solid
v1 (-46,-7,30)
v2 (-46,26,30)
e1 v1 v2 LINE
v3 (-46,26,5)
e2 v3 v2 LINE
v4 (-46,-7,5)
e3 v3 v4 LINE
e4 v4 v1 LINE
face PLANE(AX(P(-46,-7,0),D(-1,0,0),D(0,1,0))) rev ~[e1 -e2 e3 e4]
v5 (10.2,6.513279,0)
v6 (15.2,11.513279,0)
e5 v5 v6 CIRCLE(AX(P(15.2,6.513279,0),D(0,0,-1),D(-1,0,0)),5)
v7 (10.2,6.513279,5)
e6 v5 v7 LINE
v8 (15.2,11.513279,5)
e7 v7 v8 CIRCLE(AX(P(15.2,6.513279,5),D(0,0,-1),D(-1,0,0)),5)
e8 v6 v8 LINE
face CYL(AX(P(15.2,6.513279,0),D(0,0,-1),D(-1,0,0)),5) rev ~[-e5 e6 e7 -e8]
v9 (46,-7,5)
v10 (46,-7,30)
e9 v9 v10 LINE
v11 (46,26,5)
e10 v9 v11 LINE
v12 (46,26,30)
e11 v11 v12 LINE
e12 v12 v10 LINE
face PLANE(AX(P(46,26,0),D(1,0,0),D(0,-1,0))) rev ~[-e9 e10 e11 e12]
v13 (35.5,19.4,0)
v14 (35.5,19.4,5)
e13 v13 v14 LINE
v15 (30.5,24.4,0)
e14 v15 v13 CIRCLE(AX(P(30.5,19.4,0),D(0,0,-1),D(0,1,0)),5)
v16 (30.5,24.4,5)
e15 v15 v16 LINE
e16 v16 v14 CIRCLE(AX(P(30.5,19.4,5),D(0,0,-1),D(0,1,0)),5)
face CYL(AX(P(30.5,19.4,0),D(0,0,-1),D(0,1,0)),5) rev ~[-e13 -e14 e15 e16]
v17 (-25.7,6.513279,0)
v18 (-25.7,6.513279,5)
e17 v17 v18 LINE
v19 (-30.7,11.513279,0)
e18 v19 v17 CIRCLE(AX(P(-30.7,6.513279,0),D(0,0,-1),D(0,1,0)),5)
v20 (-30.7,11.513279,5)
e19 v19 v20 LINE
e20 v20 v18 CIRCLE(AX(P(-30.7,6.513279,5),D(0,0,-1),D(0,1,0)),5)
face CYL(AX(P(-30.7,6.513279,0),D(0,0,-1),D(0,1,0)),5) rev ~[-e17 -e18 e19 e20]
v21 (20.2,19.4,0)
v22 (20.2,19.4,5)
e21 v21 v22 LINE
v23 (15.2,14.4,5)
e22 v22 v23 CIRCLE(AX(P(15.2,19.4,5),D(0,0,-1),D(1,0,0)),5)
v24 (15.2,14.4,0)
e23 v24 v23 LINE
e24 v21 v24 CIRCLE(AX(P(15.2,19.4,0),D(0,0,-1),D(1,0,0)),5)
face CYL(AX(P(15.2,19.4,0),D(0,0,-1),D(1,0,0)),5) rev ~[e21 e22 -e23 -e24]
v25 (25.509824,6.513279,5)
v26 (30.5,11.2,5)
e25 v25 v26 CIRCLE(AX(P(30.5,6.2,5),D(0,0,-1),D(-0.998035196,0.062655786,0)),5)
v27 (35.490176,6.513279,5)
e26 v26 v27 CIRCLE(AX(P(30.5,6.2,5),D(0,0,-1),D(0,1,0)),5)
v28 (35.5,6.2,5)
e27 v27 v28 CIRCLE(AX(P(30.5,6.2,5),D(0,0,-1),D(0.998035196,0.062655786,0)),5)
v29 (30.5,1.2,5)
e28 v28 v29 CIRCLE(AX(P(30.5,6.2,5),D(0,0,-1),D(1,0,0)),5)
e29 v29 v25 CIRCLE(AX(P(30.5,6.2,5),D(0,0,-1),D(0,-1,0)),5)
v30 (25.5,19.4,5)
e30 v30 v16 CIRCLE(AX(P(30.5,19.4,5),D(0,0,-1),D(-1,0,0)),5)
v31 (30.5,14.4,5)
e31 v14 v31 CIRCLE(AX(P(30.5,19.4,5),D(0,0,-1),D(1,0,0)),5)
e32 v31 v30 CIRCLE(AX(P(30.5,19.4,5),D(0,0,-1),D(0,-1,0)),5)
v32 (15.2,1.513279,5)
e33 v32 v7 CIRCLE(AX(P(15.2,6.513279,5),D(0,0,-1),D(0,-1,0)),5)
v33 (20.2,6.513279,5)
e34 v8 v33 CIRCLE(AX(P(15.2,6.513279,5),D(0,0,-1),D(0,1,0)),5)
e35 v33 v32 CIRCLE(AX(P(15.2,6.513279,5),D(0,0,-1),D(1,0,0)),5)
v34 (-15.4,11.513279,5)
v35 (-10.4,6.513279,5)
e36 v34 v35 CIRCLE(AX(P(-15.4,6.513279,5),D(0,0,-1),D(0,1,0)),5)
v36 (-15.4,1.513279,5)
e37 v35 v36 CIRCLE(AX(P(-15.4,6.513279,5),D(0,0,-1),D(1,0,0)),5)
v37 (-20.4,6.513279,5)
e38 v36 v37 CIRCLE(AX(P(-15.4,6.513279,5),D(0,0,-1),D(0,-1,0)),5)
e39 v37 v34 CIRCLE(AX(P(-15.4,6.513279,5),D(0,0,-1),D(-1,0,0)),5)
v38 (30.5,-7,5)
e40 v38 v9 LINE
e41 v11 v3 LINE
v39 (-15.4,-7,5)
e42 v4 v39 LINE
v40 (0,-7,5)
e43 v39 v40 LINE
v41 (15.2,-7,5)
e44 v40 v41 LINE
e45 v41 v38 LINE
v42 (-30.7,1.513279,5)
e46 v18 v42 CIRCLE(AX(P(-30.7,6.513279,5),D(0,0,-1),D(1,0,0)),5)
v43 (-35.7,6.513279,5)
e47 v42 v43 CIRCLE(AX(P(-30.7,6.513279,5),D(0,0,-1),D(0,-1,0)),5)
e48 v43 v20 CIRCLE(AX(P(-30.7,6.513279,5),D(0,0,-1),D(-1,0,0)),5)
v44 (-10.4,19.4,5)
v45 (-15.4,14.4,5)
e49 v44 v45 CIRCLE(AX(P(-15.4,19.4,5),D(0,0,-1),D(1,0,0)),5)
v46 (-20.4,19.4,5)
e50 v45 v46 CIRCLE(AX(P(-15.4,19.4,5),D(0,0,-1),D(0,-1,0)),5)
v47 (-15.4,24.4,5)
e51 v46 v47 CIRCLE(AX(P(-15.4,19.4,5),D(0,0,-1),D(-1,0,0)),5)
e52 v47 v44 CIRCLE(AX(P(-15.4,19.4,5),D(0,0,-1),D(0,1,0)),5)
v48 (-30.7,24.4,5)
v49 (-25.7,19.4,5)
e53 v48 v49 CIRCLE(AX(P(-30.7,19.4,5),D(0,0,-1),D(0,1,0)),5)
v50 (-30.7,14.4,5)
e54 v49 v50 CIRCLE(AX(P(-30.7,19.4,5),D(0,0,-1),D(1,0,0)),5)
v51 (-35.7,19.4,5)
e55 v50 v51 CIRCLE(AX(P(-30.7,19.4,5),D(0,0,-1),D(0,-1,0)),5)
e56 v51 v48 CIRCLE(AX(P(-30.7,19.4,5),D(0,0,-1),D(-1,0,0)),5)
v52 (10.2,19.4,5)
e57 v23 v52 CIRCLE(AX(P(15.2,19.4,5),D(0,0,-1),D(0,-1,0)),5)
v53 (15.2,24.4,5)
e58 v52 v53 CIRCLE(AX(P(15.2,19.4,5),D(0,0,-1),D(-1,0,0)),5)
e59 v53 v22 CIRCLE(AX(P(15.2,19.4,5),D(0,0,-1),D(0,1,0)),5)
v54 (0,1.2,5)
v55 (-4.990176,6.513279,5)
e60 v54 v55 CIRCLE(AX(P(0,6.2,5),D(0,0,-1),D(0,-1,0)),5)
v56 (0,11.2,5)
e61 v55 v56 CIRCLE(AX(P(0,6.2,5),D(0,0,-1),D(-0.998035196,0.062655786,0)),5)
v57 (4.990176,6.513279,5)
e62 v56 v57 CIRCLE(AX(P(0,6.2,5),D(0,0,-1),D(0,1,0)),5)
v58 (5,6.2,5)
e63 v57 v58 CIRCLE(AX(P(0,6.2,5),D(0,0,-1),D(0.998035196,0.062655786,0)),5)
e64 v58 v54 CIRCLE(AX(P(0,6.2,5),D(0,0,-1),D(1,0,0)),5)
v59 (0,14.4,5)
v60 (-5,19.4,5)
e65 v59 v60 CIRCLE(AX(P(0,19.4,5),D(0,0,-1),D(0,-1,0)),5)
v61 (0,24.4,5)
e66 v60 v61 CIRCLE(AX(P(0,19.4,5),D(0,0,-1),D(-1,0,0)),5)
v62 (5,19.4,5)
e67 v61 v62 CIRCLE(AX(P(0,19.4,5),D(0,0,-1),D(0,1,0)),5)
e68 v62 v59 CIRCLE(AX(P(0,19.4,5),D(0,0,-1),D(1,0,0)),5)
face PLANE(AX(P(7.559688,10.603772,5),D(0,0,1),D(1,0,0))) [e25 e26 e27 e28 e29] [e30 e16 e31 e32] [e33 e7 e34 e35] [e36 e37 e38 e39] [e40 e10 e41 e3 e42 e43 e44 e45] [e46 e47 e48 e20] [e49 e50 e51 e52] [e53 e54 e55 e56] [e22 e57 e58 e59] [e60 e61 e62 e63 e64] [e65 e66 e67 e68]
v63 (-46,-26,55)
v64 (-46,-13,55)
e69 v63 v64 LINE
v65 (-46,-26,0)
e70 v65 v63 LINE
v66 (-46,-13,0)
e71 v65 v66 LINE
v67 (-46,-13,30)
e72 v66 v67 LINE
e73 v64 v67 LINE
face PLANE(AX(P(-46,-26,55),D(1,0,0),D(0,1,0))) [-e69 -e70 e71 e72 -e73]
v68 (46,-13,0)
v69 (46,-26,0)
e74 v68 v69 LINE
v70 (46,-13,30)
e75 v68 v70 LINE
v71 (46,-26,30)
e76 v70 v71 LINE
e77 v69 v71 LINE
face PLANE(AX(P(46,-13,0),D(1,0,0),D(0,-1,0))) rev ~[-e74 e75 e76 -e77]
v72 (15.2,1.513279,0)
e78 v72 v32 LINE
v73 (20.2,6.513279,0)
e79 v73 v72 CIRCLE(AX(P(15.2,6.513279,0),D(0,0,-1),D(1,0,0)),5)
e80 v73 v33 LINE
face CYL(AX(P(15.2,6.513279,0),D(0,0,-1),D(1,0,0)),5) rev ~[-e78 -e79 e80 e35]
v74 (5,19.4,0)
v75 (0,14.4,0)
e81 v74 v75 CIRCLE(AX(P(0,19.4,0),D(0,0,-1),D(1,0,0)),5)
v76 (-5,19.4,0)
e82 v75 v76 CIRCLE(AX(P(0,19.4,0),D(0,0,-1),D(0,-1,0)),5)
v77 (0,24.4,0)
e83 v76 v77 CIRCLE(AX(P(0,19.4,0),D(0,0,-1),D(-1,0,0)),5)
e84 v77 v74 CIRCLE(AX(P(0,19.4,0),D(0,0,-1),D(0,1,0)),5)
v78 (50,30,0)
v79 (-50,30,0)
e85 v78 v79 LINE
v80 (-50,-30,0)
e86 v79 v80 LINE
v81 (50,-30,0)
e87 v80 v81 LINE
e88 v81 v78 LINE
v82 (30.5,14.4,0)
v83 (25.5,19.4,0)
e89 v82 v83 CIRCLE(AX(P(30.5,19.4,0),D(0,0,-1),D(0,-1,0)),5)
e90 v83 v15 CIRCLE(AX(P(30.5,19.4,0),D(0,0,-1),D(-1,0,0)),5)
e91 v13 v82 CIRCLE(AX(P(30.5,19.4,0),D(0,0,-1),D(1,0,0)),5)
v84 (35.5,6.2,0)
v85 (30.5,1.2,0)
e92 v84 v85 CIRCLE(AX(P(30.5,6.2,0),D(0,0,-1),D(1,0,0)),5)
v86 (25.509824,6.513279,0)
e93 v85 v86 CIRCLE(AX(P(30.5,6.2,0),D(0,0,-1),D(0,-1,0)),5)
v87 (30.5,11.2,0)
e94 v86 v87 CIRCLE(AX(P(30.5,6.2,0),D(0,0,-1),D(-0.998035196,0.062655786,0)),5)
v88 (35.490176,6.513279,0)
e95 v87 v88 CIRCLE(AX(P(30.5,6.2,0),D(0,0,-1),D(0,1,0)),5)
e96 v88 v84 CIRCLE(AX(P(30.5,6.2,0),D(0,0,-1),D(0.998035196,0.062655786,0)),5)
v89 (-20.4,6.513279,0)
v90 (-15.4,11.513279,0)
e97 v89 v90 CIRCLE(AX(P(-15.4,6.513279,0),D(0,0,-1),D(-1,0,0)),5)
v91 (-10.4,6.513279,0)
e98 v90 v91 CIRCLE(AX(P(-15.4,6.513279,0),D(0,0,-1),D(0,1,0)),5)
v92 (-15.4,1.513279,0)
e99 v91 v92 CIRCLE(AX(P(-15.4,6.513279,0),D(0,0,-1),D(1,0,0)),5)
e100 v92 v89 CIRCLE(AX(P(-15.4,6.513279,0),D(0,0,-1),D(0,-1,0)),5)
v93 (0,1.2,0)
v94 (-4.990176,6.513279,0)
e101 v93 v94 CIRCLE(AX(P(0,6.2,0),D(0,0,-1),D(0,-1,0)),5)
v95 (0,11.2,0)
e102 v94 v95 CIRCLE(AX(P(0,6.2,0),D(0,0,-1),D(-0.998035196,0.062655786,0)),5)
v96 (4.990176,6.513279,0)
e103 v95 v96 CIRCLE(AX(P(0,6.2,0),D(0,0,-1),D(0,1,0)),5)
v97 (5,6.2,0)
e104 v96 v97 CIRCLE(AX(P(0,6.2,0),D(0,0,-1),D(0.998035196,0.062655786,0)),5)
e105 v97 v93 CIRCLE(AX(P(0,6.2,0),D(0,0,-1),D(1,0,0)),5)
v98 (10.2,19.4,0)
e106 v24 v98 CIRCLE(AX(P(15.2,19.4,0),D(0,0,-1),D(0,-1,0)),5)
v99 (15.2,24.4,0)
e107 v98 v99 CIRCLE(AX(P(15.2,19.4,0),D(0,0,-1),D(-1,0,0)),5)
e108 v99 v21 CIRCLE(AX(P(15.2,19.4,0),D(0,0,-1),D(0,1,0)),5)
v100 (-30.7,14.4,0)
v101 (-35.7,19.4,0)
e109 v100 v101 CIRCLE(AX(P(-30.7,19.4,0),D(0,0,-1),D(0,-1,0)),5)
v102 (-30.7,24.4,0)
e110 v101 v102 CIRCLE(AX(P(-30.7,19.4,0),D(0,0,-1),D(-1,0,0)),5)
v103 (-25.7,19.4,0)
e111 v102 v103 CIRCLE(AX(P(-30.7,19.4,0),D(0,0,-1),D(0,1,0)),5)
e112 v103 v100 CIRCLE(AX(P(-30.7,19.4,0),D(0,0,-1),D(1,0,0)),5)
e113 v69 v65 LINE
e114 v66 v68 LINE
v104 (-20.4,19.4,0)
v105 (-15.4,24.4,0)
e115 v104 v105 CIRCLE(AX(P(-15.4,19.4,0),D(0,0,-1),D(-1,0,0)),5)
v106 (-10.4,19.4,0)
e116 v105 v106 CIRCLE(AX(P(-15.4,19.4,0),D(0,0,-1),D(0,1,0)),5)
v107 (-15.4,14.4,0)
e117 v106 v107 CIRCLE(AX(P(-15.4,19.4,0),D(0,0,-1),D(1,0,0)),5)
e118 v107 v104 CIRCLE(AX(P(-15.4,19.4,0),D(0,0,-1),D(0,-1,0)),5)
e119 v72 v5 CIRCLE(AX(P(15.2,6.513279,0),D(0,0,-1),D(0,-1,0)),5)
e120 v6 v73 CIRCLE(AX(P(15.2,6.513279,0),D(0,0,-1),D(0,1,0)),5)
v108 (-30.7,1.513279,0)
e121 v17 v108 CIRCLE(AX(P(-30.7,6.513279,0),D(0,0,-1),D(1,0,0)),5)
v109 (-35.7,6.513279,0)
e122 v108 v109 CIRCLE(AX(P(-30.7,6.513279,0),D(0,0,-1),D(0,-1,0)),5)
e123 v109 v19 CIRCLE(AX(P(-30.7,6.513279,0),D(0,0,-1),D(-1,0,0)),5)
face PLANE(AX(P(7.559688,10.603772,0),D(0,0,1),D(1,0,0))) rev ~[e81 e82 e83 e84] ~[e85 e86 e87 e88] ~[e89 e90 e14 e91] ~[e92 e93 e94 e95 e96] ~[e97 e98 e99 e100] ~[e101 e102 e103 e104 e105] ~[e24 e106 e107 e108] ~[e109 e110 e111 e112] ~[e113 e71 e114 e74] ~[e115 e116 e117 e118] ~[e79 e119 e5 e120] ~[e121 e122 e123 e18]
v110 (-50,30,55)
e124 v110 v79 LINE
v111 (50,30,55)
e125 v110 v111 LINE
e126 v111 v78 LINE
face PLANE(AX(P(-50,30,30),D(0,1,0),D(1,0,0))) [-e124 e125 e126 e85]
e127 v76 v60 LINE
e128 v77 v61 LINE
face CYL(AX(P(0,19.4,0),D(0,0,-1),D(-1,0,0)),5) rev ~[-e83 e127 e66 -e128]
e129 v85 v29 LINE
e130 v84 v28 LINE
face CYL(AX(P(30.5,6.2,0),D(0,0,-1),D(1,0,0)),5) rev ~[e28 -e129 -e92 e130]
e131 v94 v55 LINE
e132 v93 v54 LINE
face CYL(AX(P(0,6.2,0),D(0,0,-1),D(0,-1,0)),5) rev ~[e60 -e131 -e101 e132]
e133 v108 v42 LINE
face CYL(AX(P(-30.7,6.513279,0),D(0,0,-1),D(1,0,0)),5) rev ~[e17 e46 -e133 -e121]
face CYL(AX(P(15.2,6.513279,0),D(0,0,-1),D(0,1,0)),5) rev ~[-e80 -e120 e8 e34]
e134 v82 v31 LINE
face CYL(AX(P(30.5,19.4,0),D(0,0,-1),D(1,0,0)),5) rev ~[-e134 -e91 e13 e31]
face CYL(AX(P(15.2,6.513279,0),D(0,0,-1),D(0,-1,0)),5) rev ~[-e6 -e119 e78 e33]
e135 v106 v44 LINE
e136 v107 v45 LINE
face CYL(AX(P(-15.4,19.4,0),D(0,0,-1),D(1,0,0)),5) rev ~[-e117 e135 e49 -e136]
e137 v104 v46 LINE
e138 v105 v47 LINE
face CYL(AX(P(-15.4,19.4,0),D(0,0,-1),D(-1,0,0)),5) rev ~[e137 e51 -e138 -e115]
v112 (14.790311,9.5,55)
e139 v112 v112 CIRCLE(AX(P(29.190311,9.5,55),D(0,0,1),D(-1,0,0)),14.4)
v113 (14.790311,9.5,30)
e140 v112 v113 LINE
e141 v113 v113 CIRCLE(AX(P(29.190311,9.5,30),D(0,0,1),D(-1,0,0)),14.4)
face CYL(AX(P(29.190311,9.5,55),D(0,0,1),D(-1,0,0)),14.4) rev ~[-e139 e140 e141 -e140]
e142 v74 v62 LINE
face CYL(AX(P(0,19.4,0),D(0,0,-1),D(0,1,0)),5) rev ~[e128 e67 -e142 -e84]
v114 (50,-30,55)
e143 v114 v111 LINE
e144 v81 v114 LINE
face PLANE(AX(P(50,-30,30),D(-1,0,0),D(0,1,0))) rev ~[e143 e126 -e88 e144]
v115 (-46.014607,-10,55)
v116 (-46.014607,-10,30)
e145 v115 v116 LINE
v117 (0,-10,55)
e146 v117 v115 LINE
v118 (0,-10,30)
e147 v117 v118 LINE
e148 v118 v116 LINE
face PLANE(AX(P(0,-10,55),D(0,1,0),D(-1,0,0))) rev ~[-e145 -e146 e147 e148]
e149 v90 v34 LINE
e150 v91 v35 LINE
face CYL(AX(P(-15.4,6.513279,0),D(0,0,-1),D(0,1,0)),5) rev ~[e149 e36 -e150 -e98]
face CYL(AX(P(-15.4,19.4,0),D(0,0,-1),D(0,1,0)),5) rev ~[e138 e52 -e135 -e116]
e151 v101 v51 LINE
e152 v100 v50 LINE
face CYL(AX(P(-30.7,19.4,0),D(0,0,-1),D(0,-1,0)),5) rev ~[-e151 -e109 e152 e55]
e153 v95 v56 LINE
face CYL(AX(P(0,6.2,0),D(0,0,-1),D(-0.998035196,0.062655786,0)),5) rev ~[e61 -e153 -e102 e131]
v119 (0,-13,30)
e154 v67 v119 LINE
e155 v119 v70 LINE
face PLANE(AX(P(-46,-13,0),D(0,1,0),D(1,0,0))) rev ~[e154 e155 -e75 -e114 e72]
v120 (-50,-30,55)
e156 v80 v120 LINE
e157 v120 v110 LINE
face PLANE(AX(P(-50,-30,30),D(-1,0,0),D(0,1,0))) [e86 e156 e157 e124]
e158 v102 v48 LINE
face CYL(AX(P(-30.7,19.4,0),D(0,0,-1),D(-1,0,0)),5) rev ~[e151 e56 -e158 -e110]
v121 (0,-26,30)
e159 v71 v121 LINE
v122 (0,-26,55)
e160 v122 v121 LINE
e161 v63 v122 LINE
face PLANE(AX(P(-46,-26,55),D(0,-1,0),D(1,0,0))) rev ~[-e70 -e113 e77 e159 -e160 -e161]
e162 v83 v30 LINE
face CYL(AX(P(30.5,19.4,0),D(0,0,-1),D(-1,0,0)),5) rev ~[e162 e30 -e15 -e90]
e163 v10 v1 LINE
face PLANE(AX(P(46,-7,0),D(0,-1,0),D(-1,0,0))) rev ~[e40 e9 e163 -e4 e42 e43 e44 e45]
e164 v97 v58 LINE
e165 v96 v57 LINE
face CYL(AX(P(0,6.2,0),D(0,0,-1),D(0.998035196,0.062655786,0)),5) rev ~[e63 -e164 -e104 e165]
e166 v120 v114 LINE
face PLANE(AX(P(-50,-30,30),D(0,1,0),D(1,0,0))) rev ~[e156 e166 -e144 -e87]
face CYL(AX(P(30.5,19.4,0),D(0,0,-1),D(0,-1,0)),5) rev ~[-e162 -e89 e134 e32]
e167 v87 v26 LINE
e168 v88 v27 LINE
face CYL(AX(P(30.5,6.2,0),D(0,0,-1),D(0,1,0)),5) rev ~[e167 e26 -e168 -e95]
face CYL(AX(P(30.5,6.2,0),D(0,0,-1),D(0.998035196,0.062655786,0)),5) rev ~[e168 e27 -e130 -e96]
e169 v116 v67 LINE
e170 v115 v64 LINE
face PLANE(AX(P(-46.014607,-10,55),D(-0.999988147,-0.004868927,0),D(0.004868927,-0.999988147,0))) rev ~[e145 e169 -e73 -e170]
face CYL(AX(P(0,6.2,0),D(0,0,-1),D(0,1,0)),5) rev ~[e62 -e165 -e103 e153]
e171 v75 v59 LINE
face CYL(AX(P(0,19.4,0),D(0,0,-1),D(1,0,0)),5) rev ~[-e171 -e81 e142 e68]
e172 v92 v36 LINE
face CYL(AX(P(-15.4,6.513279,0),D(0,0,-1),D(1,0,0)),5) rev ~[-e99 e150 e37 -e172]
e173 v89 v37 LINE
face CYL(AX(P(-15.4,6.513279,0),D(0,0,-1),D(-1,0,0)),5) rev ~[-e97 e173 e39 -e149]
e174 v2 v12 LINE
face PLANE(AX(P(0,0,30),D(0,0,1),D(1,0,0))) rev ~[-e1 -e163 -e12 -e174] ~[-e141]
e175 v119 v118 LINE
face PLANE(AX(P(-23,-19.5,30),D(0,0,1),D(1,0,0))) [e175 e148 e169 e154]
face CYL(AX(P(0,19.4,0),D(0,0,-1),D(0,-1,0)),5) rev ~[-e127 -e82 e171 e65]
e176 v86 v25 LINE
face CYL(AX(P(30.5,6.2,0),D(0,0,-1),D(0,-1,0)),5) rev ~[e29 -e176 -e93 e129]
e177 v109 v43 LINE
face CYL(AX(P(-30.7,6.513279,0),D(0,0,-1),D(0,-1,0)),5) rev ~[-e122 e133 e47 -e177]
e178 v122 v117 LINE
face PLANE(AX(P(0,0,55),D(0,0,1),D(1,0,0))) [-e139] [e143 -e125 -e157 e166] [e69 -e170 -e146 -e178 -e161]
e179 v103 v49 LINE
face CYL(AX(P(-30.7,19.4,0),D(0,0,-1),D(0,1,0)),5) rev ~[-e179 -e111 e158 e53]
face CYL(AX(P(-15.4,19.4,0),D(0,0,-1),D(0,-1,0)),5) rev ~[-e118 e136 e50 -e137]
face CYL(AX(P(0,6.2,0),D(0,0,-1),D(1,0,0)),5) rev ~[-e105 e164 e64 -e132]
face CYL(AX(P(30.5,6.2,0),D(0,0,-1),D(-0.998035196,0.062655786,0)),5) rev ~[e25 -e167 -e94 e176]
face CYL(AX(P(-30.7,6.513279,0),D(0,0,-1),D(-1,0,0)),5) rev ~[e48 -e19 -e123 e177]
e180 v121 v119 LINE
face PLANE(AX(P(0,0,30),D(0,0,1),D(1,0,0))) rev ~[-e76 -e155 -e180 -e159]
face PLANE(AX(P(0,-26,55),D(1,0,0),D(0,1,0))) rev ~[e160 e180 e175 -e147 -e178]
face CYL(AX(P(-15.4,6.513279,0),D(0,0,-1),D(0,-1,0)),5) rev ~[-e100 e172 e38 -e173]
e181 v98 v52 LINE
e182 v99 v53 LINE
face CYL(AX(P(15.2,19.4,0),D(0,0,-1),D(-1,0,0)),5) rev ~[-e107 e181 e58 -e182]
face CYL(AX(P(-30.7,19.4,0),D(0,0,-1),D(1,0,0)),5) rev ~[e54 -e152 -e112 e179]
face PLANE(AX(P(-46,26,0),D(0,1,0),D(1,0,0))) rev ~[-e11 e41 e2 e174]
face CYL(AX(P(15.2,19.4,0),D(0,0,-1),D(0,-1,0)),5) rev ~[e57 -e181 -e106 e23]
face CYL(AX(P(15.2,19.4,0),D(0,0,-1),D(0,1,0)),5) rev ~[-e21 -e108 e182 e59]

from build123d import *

# Parameters (mm, degrees)
F1_DEPTH = 30
F0_W     = 15.3
F0_H     = 3.7354312371
F0_W_2   = 15.5
F0_H_2   = 3.2645687629
F0_W_3   = 15.2
F2_DEPTH = 5
F3_W     = 100
F3_H     = 60
F3_W_2   = 92
F3_H_2   = 13
F3_H_3   = 33
F4_DEPTH = 25
F6_DEPTH = 25
F5_W     = 46
F5_H     = 13
F7_DEPTH = 25


with BuildPart() as f1:
    # F0 (on Top) → F1 (new body)
    with BuildSketch(Plane.XY):
        Polygon((0, -30), (50, -30), (50, -10), (18.90296489, -10), (0, -10), (0, -13), (46, -13), (46, -26), (0, -26), align=None)
        Polygon((-50, -30), (0, -30), (0, -26), (-46, -26), (-46, -13), (0, -13), (0, -10), (-50, -10), align=None)
        Polygon((18.90296489, -10), (50, -10), (50, 11.9792576879), (46, 11.9792576879), (46, 6.5132789314), (46, 0), (46, -3.7354312371), (46, -7), (30.5, -7), (18.90296489, -7), align=None)
        Polygon((46, 11.9792576879), (50, 11.9792576879), (50, 30), (-14.5761566237, 30), (-14.5761566237, 26), (0, 26), (15.2, 26), (30.5, 26), (46, 26), (46, 19.4), (46, 12.8), align=None)
        Polygon((0, -10), (18.90296489, -10), (18.90296489, -7), (15.2, -7), (0, -7), (-15.4, -7), (-30.7, -7), (-46, -7), (-46, -3.7354312371), (-46, 0), (-46, 6.5132789314), (-50, 6.5132789314), (-50, -10), align=None)
        Polygon((-50, 30), (-50, 6.5132789314), (-46, 6.5132789314), (-46, 12.8), (-46, 19.4), (-46, 26), (-30.7, 26), (-15.4, 26), (-14.5761566237, 26), (-14.5761566237, 30), align=None)
    extrude(amount=F1_DEPTH)

    # F0 (on Top) → F2 (join)
    with BuildSketch(Plane.XY):
        with BuildLine():
            Line((15.2, 11.5132789314), (15.2, 12.8))
            Line((15.2, 12.8), (0, 12.8))
            Line((0, 12.8), (0, 11.2))
            ThreePointArc((0, 11.2), (3.4229815471, 9.8446120957), (4.99017598, 6.5132789314))
            Line((4.99017598, 6.5132789314), (10.2, 6.5132789314))
            ThreePointArc((10.2, 6.5132789314), (11.6644660941, 10.0488128373), (15.2, 11.5132789314))
        make_face()
        with BuildLine():
            Line((0, 0), (15.2, 0))
            Line((15.2, 0), (15.2, 1.5132789314))
            ThreePointArc((15.2, 1.5132789314), (11.6644660941, 2.9777450254), (10.2, 6.5132789314))
            Line((10.2, 6.5132789314), (4.99017598, 6.5132789314))
            ThreePointArc((4.99017598, 6.5132789314), (4.9975433915, 6.3567164639), (5, 6.2))
            ThreePointArc((5, 6.2), (3.5355339059, 2.6644660941), (0, 1.2))
            Line((0, 1.2), (0, 0))
        make_face()
        with BuildLine():
            Line((0, 12.8), (15.2, 12.8))
            Line((15.2, 12.8), (15.2, 14.4))
            ThreePointArc((15.2, 14.4), (11.6644660941, 15.8644660941), (10.2, 19.4))
            Line((10.2, 19.4), (5, 19.4))
            ThreePointArc((5, 19.4), (3.5355339059, 15.8644660941), (0, 14.4))
            Line((0, 14.4), (0, 12.8))
        make_face()
        with BuildLine():
            Line((15.2, 26), (0, 26))
            Line((0, 26), (0, 24.4))
            ThreePointArc((0, 24.4), (3.5355339059, 22.9355339059), (5, 19.4))
            Line((5, 19.4), (10.2, 19.4))
            ThreePointArc((10.2, 19.4), (11.6644660941, 22.9355339059), (15.2, 24.4))
            Line((15.2, 24.4), (15.2, 26))
        make_face()
        with BuildLine():
            Line((15.2, 0), (30.5, 0))
            Line((30.5, 0), (30.5, 1.2))
            ThreePointArc((30.5, 1.2), (26.8553879043, 2.7770184529), (25.50982402, 6.5132789314))
            Line((25.50982402, 6.5132789314), (20.2, 6.5132789314))
            ThreePointArc((20.2, 6.5132789314), (18.7355339059, 2.9777450254), (15.2, 1.5132789314))
            Line((15.2, 1.5132789314), (15.2, 0))
        make_face()
        with BuildLine():
            Line((30.5, 11.2), (30.5, 12.8))
            Line((30.5, 12.8), (15.2, 12.8))
            Line((15.2, 12.8), (15.2, 11.5132789314))
            ThreePointArc((15.2, 11.5132789314), (18.7355339059, 10.0488128373), (20.2, 6.5132789314))
            Line((20.2, 6.5132789314), (25.50982402, 6.5132789314))
            ThreePointArc((25.50982402, 6.5132789314), (27.0770184529, 9.8446120957), (30.5, 11.2))
        make_face()
        with BuildLine():
            Line((15.2, 12.8), (30.5, 12.8))
            Line((30.5, 12.8), (30.5, 14.4))
            ThreePointArc((30.5, 14.4), (26.9644660941, 15.8644660941), (25.5, 19.4))
            Line((25.5, 19.4), (20.2, 19.4))
            ThreePointArc((20.2, 19.4), (18.7355339059, 15.8644660941), (15.2, 14.4))
            Line((15.2, 14.4), (15.2, 12.8))
        make_face()
        with BuildLine():
            Line((30.5, 26), (15.2, 26))
            Line((15.2, 26), (15.2, 24.4))
            ThreePointArc((15.2, 24.4), (18.7355339059, 22.9355339059), (20.2, 19.4))
            Line((20.2, 19.4), (25.5, 19.4))
            ThreePointArc((25.5, 19.4), (26.9644660941, 22.9355339059), (30.5, 24.4))
            Line((30.5, 24.4), (30.5, 26))
        make_face()
        with BuildLine():
            Line((35.5, 19.4), (46, 19.4))
            Line((46, 19.4), (46, 26))
            Line((46, 26), (30.5, 26))
            Line((30.5, 26), (30.5, 24.4))
            ThreePointArc((30.5, 24.4), (34.0355339059, 22.9355339059), (35.5, 19.4))
        make_face()
        with BuildLine():
            Line((30.5, 12.8), (46, 12.8))
            Line((46, 12.8), (46, 19.4))
            Line((46, 19.4), (35.5, 19.4))
            ThreePointArc((35.5, 19.4), (34.0355339059, 15.8644660941), (30.5, 14.4))
            Line((30.5, 14.4), (30.5, 12.8))
        make_face()
        with BuildLine():
            Line((46, 6.5132789314), (46, 11.9792576879))
            Line((46, 11.9792576879), (46, 12.8))
            Line((46, 12.8), (30.5, 12.8))
            Line((30.5, 12.8), (30.5, 11.2))
            ThreePointArc((30.5, 11.2), (33.9229815471, 9.8446120957), (35.49017598, 6.5132789314))
            Line((35.49017598, 6.5132789314), (46, 6.5132789314))
        make_face()
        with BuildLine():
            Line((46, 0), (46, 6.5132789314))
            Line((46, 6.5132789314), (35.49017598, 6.5132789314))
            ThreePointArc((35.49017598, 6.5132789314), (35.4975433915, 6.3567164639), (35.5, 6.2))
            ThreePointArc((35.5, 6.2), (34.0355339059, 2.6644660941), (30.5, 1.2))
            Line((30.5, 1.2), (30.5, 0))
            Line((30.5, 0), (46, 0))
        make_face()
        with BuildLine():
            Line((-15.4, 0), (0, 0))
            Line((0, 0), (0, 1.2))
            ThreePointArc((0, 1.2), (-3.6446120957, 2.7770184529), (-4.99017598, 6.5132789314))
            Line((-4.99017598, 6.5132789314), (-10.4, 6.5132789314))
            ThreePointArc((-10.4, 6.5132789314), (-11.8644660941, 2.9777450254), (-15.4, 1.5132789314))
            Line((-15.4, 1.5132789314), (-15.4, 0))
        make_face()
        with BuildLine():
            Line((0, 11.2), (0, 12.8))
            Line((0, 12.8), (-15.4, 12.8))
            Line((-15.4, 12.8), (-15.4, 11.5132789314))
            ThreePointArc((-15.4, 11.5132789314), (-11.8644660941, 10.0488128373), (-10.4, 6.5132789314))
            Line((-10.4, 6.5132789314), (-4.99017598, 6.5132789314))
            ThreePointArc((-4.99017598, 6.5132789314), (-3.4229815471, 9.8446120957), (0, 11.2))
        make_face()
        with BuildLine():
            Line((-15.4, 12.8), (0, 12.8))
            Line((0, 12.8), (0, 14.4))
            ThreePointArc((0, 14.4), (-3.5355339059, 15.8644660941), (-5, 19.4))
            Line((-5, 19.4), (-10.4, 19.4))
            ThreePointArc((-10.4, 19.4), (-11.8644660941, 15.8644660941), (-15.4, 14.4))
            Line((-15.4, 14.4), (-15.4, 12.8))
        make_face()
        with BuildLine():
            Line((0, 26), (-14.5761566237, 26))
            Line((-14.5761566237, 26), (-15.4, 26))
            Line((-15.4, 26), (-15.4, 24.4))
            ThreePointArc((-15.4, 24.4), (-11.8644660941, 22.9355339059), (-10.4, 19.4))
            Line((-10.4, 19.4), (-5, 19.4))
            ThreePointArc((-5, 19.4), (-3.5355339059, 22.9355339059), (0, 24.4))
            Line((0, 24.4), (0, 26))
        make_face()
        with BuildLine():
            Line((-15.4, 24.4), (-15.4, 26))
            Line((-15.4, 26), (-30.7, 26))
            Line((-30.7, 26), (-30.7, 24.4))
            ThreePointArc((-30.7, 24.4), (-27.1644660941, 22.9355339059), (-25.7, 19.4))
            Line((-25.7, 19.4), (-20.4, 19.4))
            ThreePointArc((-20.4, 19.4), (-18.9355339059, 22.9355339059), (-15.4, 24.4))
        make_face()
        with BuildLine():
            Line((-46, 26), (-46, 19.4))
            Line((-46, 19.4), (-35.7, 19.4))
            ThreePointArc((-35.7, 19.4), (-34.2355339059, 22.9355339059), (-30.7, 24.4))
            Line((-30.7, 24.4), (-30.7, 26))
            Line((-30.7, 26), (-46, 26))
        make_face()
        with BuildLine():
            Line((-46, 19.4), (-46, 12.8))
            Line((-46, 12.8), (-30.7, 12.8))
            Line((-30.7, 12.8), (-30.7, 14.4))
            ThreePointArc((-30.7, 14.4), (-34.2355339059, 15.8644660941), (-35.7, 19.4))
            Line((-35.7, 19.4), (-46, 19.4))
        make_face()
        with BuildLine():
            Line((-30.7, 14.4), (-30.7, 12.8))
            Line((-30.7, 12.8), (-15.4, 12.8))
            Line((-15.4, 12.8), (-15.4, 14.4))
            ThreePointArc((-15.4, 14.4), (-18.9355339059, 15.8644660941), (-20.4, 19.4))
            Line((-20.4, 19.4), (-25.7, 19.4))
            ThreePointArc((-25.7, 19.4), (-27.1644660941, 15.8644660941), (-30.7, 14.4))
        make_face()
        with BuildLine():
            Line((-15.4, 12.8), (-30.7, 12.8))
            Line((-30.7, 12.8), (-30.7, 11.5132789314))
            ThreePointArc((-30.7, 11.5132789314), (-27.1644660941, 10.0488128373), (-25.7, 6.5132789314))
            Line((-25.7, 6.5132789314), (-20.4, 6.5132789314))
            ThreePointArc((-20.4, 6.5132789314), (-18.9355339059, 10.0488128373), (-15.4, 11.5132789314))
            Line((-15.4, 11.5132789314), (-15.4, 12.8))
        make_face()
        with BuildLine():
            Line((-46, 12.8), (-46, 6.5132789314))
            Line((-46, 6.5132789314), (-35.7, 6.5132789314))
            ThreePointArc((-35.7, 6.5132789314), (-34.2355339059, 10.0488128373), (-30.7, 11.5132789314))
            Line((-30.7, 11.5132789314), (-30.7, 12.8))
            Line((-30.7, 12.8), (-46, 12.8))
        make_face()
        with BuildLine():
            Line((-35.7, 6.5132789314), (-46, 6.5132789314))
            Line((-46, 6.5132789314), (-46, 0))
            Line((-46, 0), (-30.7, 0))
            Line((-30.7, 0), (-30.7, 1.5132789314))
            ThreePointArc((-30.7, 1.5132789314), (-34.2355339059, 2.9777450254), (-35.7, 6.5132789314))
        make_face()
        with BuildLine():
            Line((-30.7, 1.5132789314), (-30.7, 0))
            Line((-30.7, 0), (-15.4, 0))
            Line((-15.4, 0), (-15.4, 1.5132789314))
            ThreePointArc((-15.4, 1.5132789314), (-18.9355339059, 2.9777450254), (-20.4, 6.5132789314))
            Line((-20.4, 6.5132789314), (-25.7, 6.5132789314))
            ThreePointArc((-25.7, 6.5132789314), (-27.1644660941, 2.9777450254), (-30.7, 1.5132789314))
        make_face()
        with Locations((-38.35, -1.8677156186)):
            Rectangle(F0_W, F0_H)
        with Locations((-23.05, -1.8677156186)):
            Rectangle(F0_W, F0_H)
        Polygon((-0.1, -3.7354312371), (0, -3.7354312371), (0, -0.4), (0, 0), (-15.4, 0), (-15.4, -3.7354312371), align=None)
        Polygon((0, -3.7354312371), (15.2, -3.7354312371), (15.2, 0), (0, 0), (0, -0.4), align=None)
        with Locations((22.85, -1.8677156186)):
            Rectangle(F0_W, F0_H)
        with Locations((38.25, -1.8677156186)):
            Rectangle(F0_W_2, F0_H)
        with Locations((-38.35, -5.3677156186)):
            Rectangle(F0_W, F0_H_2)
        with Locations((-23.05, -5.3677156186)):
            Rectangle(F0_W, F0_H_2)
        Polygon((-15.4, -7), (0, -7), (0, -3.7354312371), (-0.1, -3.7354312371), (-15.4, -3.7354312371), align=None)
        with Locations((7.6, -5.3677156186)):
            Rectangle(F0_W_3, F0_H_2)
        Polygon((15.2, -7), (18.90296489, -7), (30.5, -7), (30.5, -3.7354312371), (15.2, -3.7354312371), align=None)
        with Locations((38.25, -5.3677156186)):
            Rectangle(F0_W_2, F0_H_2)
    extrude(amount=F2_DEPTH)

    # F3 (on face) → F4 (join)
    with BuildSketch(Plane.XY.offset(30)):
        Rectangle(F3_W, F3_H)
        with Locations((0, -19.5)):
            Rectangle(F3_W_2, F3_H_2, mode=Mode.SUBTRACT)
        with Locations((0, 9.5)):
            Rectangle(F3_W_2, F3_H_3, mode=Mode.SUBTRACT)
        with Locations((0, 9.5)):
            Rectangle(F3_W_2, F3_H_3)
        with Locations((0, -19.5)):
            Rectangle(F3_W_2, F3_H_2)
    extrude(amount=F4_DEPTH)

    # F5 (on face) → F6 (cut)
    with BuildSketch(Plane.XY.offset(55)):
        with BuildLine():
            ThreePointArc((43.5903112084, 9.5), (29.1903112084, 23.9), (14.7903112084, 9.5))
            Line((14.7903112084, 9.5), (29.1903112084, 9.5))
            Line((29.1903112084, 9.5), (43.5903112084, 9.5))
        make_face()
        with BuildLine():
            Line((29.1903112084, 9.5), (14.7903112084, 9.5))
            ThreePointArc((14.7903112084, 9.5), (29.1903112084, -4.9), (43.5903112084, 9.5))
            Line((43.5903112084, 9.5), (29.1903112084, 9.5))
        make_face()
    extrude(amount=-F6_DEPTH, mode=Mode.SUBTRACT)

    # F5 (on face) → F7 (cut)
    with BuildSketch(Plane.XY.offset(55)):
        with Locations((-23, -19.5)):
            Rectangle(F5_W, F5_H)
        Polygon((-46.0146069527, -10), (-46, -13), (0, -13), (0, -10), align=None)
    extrude(amount=-F7_DEPTH, mode=Mode.SUBTRACT)


solid = f1.part
